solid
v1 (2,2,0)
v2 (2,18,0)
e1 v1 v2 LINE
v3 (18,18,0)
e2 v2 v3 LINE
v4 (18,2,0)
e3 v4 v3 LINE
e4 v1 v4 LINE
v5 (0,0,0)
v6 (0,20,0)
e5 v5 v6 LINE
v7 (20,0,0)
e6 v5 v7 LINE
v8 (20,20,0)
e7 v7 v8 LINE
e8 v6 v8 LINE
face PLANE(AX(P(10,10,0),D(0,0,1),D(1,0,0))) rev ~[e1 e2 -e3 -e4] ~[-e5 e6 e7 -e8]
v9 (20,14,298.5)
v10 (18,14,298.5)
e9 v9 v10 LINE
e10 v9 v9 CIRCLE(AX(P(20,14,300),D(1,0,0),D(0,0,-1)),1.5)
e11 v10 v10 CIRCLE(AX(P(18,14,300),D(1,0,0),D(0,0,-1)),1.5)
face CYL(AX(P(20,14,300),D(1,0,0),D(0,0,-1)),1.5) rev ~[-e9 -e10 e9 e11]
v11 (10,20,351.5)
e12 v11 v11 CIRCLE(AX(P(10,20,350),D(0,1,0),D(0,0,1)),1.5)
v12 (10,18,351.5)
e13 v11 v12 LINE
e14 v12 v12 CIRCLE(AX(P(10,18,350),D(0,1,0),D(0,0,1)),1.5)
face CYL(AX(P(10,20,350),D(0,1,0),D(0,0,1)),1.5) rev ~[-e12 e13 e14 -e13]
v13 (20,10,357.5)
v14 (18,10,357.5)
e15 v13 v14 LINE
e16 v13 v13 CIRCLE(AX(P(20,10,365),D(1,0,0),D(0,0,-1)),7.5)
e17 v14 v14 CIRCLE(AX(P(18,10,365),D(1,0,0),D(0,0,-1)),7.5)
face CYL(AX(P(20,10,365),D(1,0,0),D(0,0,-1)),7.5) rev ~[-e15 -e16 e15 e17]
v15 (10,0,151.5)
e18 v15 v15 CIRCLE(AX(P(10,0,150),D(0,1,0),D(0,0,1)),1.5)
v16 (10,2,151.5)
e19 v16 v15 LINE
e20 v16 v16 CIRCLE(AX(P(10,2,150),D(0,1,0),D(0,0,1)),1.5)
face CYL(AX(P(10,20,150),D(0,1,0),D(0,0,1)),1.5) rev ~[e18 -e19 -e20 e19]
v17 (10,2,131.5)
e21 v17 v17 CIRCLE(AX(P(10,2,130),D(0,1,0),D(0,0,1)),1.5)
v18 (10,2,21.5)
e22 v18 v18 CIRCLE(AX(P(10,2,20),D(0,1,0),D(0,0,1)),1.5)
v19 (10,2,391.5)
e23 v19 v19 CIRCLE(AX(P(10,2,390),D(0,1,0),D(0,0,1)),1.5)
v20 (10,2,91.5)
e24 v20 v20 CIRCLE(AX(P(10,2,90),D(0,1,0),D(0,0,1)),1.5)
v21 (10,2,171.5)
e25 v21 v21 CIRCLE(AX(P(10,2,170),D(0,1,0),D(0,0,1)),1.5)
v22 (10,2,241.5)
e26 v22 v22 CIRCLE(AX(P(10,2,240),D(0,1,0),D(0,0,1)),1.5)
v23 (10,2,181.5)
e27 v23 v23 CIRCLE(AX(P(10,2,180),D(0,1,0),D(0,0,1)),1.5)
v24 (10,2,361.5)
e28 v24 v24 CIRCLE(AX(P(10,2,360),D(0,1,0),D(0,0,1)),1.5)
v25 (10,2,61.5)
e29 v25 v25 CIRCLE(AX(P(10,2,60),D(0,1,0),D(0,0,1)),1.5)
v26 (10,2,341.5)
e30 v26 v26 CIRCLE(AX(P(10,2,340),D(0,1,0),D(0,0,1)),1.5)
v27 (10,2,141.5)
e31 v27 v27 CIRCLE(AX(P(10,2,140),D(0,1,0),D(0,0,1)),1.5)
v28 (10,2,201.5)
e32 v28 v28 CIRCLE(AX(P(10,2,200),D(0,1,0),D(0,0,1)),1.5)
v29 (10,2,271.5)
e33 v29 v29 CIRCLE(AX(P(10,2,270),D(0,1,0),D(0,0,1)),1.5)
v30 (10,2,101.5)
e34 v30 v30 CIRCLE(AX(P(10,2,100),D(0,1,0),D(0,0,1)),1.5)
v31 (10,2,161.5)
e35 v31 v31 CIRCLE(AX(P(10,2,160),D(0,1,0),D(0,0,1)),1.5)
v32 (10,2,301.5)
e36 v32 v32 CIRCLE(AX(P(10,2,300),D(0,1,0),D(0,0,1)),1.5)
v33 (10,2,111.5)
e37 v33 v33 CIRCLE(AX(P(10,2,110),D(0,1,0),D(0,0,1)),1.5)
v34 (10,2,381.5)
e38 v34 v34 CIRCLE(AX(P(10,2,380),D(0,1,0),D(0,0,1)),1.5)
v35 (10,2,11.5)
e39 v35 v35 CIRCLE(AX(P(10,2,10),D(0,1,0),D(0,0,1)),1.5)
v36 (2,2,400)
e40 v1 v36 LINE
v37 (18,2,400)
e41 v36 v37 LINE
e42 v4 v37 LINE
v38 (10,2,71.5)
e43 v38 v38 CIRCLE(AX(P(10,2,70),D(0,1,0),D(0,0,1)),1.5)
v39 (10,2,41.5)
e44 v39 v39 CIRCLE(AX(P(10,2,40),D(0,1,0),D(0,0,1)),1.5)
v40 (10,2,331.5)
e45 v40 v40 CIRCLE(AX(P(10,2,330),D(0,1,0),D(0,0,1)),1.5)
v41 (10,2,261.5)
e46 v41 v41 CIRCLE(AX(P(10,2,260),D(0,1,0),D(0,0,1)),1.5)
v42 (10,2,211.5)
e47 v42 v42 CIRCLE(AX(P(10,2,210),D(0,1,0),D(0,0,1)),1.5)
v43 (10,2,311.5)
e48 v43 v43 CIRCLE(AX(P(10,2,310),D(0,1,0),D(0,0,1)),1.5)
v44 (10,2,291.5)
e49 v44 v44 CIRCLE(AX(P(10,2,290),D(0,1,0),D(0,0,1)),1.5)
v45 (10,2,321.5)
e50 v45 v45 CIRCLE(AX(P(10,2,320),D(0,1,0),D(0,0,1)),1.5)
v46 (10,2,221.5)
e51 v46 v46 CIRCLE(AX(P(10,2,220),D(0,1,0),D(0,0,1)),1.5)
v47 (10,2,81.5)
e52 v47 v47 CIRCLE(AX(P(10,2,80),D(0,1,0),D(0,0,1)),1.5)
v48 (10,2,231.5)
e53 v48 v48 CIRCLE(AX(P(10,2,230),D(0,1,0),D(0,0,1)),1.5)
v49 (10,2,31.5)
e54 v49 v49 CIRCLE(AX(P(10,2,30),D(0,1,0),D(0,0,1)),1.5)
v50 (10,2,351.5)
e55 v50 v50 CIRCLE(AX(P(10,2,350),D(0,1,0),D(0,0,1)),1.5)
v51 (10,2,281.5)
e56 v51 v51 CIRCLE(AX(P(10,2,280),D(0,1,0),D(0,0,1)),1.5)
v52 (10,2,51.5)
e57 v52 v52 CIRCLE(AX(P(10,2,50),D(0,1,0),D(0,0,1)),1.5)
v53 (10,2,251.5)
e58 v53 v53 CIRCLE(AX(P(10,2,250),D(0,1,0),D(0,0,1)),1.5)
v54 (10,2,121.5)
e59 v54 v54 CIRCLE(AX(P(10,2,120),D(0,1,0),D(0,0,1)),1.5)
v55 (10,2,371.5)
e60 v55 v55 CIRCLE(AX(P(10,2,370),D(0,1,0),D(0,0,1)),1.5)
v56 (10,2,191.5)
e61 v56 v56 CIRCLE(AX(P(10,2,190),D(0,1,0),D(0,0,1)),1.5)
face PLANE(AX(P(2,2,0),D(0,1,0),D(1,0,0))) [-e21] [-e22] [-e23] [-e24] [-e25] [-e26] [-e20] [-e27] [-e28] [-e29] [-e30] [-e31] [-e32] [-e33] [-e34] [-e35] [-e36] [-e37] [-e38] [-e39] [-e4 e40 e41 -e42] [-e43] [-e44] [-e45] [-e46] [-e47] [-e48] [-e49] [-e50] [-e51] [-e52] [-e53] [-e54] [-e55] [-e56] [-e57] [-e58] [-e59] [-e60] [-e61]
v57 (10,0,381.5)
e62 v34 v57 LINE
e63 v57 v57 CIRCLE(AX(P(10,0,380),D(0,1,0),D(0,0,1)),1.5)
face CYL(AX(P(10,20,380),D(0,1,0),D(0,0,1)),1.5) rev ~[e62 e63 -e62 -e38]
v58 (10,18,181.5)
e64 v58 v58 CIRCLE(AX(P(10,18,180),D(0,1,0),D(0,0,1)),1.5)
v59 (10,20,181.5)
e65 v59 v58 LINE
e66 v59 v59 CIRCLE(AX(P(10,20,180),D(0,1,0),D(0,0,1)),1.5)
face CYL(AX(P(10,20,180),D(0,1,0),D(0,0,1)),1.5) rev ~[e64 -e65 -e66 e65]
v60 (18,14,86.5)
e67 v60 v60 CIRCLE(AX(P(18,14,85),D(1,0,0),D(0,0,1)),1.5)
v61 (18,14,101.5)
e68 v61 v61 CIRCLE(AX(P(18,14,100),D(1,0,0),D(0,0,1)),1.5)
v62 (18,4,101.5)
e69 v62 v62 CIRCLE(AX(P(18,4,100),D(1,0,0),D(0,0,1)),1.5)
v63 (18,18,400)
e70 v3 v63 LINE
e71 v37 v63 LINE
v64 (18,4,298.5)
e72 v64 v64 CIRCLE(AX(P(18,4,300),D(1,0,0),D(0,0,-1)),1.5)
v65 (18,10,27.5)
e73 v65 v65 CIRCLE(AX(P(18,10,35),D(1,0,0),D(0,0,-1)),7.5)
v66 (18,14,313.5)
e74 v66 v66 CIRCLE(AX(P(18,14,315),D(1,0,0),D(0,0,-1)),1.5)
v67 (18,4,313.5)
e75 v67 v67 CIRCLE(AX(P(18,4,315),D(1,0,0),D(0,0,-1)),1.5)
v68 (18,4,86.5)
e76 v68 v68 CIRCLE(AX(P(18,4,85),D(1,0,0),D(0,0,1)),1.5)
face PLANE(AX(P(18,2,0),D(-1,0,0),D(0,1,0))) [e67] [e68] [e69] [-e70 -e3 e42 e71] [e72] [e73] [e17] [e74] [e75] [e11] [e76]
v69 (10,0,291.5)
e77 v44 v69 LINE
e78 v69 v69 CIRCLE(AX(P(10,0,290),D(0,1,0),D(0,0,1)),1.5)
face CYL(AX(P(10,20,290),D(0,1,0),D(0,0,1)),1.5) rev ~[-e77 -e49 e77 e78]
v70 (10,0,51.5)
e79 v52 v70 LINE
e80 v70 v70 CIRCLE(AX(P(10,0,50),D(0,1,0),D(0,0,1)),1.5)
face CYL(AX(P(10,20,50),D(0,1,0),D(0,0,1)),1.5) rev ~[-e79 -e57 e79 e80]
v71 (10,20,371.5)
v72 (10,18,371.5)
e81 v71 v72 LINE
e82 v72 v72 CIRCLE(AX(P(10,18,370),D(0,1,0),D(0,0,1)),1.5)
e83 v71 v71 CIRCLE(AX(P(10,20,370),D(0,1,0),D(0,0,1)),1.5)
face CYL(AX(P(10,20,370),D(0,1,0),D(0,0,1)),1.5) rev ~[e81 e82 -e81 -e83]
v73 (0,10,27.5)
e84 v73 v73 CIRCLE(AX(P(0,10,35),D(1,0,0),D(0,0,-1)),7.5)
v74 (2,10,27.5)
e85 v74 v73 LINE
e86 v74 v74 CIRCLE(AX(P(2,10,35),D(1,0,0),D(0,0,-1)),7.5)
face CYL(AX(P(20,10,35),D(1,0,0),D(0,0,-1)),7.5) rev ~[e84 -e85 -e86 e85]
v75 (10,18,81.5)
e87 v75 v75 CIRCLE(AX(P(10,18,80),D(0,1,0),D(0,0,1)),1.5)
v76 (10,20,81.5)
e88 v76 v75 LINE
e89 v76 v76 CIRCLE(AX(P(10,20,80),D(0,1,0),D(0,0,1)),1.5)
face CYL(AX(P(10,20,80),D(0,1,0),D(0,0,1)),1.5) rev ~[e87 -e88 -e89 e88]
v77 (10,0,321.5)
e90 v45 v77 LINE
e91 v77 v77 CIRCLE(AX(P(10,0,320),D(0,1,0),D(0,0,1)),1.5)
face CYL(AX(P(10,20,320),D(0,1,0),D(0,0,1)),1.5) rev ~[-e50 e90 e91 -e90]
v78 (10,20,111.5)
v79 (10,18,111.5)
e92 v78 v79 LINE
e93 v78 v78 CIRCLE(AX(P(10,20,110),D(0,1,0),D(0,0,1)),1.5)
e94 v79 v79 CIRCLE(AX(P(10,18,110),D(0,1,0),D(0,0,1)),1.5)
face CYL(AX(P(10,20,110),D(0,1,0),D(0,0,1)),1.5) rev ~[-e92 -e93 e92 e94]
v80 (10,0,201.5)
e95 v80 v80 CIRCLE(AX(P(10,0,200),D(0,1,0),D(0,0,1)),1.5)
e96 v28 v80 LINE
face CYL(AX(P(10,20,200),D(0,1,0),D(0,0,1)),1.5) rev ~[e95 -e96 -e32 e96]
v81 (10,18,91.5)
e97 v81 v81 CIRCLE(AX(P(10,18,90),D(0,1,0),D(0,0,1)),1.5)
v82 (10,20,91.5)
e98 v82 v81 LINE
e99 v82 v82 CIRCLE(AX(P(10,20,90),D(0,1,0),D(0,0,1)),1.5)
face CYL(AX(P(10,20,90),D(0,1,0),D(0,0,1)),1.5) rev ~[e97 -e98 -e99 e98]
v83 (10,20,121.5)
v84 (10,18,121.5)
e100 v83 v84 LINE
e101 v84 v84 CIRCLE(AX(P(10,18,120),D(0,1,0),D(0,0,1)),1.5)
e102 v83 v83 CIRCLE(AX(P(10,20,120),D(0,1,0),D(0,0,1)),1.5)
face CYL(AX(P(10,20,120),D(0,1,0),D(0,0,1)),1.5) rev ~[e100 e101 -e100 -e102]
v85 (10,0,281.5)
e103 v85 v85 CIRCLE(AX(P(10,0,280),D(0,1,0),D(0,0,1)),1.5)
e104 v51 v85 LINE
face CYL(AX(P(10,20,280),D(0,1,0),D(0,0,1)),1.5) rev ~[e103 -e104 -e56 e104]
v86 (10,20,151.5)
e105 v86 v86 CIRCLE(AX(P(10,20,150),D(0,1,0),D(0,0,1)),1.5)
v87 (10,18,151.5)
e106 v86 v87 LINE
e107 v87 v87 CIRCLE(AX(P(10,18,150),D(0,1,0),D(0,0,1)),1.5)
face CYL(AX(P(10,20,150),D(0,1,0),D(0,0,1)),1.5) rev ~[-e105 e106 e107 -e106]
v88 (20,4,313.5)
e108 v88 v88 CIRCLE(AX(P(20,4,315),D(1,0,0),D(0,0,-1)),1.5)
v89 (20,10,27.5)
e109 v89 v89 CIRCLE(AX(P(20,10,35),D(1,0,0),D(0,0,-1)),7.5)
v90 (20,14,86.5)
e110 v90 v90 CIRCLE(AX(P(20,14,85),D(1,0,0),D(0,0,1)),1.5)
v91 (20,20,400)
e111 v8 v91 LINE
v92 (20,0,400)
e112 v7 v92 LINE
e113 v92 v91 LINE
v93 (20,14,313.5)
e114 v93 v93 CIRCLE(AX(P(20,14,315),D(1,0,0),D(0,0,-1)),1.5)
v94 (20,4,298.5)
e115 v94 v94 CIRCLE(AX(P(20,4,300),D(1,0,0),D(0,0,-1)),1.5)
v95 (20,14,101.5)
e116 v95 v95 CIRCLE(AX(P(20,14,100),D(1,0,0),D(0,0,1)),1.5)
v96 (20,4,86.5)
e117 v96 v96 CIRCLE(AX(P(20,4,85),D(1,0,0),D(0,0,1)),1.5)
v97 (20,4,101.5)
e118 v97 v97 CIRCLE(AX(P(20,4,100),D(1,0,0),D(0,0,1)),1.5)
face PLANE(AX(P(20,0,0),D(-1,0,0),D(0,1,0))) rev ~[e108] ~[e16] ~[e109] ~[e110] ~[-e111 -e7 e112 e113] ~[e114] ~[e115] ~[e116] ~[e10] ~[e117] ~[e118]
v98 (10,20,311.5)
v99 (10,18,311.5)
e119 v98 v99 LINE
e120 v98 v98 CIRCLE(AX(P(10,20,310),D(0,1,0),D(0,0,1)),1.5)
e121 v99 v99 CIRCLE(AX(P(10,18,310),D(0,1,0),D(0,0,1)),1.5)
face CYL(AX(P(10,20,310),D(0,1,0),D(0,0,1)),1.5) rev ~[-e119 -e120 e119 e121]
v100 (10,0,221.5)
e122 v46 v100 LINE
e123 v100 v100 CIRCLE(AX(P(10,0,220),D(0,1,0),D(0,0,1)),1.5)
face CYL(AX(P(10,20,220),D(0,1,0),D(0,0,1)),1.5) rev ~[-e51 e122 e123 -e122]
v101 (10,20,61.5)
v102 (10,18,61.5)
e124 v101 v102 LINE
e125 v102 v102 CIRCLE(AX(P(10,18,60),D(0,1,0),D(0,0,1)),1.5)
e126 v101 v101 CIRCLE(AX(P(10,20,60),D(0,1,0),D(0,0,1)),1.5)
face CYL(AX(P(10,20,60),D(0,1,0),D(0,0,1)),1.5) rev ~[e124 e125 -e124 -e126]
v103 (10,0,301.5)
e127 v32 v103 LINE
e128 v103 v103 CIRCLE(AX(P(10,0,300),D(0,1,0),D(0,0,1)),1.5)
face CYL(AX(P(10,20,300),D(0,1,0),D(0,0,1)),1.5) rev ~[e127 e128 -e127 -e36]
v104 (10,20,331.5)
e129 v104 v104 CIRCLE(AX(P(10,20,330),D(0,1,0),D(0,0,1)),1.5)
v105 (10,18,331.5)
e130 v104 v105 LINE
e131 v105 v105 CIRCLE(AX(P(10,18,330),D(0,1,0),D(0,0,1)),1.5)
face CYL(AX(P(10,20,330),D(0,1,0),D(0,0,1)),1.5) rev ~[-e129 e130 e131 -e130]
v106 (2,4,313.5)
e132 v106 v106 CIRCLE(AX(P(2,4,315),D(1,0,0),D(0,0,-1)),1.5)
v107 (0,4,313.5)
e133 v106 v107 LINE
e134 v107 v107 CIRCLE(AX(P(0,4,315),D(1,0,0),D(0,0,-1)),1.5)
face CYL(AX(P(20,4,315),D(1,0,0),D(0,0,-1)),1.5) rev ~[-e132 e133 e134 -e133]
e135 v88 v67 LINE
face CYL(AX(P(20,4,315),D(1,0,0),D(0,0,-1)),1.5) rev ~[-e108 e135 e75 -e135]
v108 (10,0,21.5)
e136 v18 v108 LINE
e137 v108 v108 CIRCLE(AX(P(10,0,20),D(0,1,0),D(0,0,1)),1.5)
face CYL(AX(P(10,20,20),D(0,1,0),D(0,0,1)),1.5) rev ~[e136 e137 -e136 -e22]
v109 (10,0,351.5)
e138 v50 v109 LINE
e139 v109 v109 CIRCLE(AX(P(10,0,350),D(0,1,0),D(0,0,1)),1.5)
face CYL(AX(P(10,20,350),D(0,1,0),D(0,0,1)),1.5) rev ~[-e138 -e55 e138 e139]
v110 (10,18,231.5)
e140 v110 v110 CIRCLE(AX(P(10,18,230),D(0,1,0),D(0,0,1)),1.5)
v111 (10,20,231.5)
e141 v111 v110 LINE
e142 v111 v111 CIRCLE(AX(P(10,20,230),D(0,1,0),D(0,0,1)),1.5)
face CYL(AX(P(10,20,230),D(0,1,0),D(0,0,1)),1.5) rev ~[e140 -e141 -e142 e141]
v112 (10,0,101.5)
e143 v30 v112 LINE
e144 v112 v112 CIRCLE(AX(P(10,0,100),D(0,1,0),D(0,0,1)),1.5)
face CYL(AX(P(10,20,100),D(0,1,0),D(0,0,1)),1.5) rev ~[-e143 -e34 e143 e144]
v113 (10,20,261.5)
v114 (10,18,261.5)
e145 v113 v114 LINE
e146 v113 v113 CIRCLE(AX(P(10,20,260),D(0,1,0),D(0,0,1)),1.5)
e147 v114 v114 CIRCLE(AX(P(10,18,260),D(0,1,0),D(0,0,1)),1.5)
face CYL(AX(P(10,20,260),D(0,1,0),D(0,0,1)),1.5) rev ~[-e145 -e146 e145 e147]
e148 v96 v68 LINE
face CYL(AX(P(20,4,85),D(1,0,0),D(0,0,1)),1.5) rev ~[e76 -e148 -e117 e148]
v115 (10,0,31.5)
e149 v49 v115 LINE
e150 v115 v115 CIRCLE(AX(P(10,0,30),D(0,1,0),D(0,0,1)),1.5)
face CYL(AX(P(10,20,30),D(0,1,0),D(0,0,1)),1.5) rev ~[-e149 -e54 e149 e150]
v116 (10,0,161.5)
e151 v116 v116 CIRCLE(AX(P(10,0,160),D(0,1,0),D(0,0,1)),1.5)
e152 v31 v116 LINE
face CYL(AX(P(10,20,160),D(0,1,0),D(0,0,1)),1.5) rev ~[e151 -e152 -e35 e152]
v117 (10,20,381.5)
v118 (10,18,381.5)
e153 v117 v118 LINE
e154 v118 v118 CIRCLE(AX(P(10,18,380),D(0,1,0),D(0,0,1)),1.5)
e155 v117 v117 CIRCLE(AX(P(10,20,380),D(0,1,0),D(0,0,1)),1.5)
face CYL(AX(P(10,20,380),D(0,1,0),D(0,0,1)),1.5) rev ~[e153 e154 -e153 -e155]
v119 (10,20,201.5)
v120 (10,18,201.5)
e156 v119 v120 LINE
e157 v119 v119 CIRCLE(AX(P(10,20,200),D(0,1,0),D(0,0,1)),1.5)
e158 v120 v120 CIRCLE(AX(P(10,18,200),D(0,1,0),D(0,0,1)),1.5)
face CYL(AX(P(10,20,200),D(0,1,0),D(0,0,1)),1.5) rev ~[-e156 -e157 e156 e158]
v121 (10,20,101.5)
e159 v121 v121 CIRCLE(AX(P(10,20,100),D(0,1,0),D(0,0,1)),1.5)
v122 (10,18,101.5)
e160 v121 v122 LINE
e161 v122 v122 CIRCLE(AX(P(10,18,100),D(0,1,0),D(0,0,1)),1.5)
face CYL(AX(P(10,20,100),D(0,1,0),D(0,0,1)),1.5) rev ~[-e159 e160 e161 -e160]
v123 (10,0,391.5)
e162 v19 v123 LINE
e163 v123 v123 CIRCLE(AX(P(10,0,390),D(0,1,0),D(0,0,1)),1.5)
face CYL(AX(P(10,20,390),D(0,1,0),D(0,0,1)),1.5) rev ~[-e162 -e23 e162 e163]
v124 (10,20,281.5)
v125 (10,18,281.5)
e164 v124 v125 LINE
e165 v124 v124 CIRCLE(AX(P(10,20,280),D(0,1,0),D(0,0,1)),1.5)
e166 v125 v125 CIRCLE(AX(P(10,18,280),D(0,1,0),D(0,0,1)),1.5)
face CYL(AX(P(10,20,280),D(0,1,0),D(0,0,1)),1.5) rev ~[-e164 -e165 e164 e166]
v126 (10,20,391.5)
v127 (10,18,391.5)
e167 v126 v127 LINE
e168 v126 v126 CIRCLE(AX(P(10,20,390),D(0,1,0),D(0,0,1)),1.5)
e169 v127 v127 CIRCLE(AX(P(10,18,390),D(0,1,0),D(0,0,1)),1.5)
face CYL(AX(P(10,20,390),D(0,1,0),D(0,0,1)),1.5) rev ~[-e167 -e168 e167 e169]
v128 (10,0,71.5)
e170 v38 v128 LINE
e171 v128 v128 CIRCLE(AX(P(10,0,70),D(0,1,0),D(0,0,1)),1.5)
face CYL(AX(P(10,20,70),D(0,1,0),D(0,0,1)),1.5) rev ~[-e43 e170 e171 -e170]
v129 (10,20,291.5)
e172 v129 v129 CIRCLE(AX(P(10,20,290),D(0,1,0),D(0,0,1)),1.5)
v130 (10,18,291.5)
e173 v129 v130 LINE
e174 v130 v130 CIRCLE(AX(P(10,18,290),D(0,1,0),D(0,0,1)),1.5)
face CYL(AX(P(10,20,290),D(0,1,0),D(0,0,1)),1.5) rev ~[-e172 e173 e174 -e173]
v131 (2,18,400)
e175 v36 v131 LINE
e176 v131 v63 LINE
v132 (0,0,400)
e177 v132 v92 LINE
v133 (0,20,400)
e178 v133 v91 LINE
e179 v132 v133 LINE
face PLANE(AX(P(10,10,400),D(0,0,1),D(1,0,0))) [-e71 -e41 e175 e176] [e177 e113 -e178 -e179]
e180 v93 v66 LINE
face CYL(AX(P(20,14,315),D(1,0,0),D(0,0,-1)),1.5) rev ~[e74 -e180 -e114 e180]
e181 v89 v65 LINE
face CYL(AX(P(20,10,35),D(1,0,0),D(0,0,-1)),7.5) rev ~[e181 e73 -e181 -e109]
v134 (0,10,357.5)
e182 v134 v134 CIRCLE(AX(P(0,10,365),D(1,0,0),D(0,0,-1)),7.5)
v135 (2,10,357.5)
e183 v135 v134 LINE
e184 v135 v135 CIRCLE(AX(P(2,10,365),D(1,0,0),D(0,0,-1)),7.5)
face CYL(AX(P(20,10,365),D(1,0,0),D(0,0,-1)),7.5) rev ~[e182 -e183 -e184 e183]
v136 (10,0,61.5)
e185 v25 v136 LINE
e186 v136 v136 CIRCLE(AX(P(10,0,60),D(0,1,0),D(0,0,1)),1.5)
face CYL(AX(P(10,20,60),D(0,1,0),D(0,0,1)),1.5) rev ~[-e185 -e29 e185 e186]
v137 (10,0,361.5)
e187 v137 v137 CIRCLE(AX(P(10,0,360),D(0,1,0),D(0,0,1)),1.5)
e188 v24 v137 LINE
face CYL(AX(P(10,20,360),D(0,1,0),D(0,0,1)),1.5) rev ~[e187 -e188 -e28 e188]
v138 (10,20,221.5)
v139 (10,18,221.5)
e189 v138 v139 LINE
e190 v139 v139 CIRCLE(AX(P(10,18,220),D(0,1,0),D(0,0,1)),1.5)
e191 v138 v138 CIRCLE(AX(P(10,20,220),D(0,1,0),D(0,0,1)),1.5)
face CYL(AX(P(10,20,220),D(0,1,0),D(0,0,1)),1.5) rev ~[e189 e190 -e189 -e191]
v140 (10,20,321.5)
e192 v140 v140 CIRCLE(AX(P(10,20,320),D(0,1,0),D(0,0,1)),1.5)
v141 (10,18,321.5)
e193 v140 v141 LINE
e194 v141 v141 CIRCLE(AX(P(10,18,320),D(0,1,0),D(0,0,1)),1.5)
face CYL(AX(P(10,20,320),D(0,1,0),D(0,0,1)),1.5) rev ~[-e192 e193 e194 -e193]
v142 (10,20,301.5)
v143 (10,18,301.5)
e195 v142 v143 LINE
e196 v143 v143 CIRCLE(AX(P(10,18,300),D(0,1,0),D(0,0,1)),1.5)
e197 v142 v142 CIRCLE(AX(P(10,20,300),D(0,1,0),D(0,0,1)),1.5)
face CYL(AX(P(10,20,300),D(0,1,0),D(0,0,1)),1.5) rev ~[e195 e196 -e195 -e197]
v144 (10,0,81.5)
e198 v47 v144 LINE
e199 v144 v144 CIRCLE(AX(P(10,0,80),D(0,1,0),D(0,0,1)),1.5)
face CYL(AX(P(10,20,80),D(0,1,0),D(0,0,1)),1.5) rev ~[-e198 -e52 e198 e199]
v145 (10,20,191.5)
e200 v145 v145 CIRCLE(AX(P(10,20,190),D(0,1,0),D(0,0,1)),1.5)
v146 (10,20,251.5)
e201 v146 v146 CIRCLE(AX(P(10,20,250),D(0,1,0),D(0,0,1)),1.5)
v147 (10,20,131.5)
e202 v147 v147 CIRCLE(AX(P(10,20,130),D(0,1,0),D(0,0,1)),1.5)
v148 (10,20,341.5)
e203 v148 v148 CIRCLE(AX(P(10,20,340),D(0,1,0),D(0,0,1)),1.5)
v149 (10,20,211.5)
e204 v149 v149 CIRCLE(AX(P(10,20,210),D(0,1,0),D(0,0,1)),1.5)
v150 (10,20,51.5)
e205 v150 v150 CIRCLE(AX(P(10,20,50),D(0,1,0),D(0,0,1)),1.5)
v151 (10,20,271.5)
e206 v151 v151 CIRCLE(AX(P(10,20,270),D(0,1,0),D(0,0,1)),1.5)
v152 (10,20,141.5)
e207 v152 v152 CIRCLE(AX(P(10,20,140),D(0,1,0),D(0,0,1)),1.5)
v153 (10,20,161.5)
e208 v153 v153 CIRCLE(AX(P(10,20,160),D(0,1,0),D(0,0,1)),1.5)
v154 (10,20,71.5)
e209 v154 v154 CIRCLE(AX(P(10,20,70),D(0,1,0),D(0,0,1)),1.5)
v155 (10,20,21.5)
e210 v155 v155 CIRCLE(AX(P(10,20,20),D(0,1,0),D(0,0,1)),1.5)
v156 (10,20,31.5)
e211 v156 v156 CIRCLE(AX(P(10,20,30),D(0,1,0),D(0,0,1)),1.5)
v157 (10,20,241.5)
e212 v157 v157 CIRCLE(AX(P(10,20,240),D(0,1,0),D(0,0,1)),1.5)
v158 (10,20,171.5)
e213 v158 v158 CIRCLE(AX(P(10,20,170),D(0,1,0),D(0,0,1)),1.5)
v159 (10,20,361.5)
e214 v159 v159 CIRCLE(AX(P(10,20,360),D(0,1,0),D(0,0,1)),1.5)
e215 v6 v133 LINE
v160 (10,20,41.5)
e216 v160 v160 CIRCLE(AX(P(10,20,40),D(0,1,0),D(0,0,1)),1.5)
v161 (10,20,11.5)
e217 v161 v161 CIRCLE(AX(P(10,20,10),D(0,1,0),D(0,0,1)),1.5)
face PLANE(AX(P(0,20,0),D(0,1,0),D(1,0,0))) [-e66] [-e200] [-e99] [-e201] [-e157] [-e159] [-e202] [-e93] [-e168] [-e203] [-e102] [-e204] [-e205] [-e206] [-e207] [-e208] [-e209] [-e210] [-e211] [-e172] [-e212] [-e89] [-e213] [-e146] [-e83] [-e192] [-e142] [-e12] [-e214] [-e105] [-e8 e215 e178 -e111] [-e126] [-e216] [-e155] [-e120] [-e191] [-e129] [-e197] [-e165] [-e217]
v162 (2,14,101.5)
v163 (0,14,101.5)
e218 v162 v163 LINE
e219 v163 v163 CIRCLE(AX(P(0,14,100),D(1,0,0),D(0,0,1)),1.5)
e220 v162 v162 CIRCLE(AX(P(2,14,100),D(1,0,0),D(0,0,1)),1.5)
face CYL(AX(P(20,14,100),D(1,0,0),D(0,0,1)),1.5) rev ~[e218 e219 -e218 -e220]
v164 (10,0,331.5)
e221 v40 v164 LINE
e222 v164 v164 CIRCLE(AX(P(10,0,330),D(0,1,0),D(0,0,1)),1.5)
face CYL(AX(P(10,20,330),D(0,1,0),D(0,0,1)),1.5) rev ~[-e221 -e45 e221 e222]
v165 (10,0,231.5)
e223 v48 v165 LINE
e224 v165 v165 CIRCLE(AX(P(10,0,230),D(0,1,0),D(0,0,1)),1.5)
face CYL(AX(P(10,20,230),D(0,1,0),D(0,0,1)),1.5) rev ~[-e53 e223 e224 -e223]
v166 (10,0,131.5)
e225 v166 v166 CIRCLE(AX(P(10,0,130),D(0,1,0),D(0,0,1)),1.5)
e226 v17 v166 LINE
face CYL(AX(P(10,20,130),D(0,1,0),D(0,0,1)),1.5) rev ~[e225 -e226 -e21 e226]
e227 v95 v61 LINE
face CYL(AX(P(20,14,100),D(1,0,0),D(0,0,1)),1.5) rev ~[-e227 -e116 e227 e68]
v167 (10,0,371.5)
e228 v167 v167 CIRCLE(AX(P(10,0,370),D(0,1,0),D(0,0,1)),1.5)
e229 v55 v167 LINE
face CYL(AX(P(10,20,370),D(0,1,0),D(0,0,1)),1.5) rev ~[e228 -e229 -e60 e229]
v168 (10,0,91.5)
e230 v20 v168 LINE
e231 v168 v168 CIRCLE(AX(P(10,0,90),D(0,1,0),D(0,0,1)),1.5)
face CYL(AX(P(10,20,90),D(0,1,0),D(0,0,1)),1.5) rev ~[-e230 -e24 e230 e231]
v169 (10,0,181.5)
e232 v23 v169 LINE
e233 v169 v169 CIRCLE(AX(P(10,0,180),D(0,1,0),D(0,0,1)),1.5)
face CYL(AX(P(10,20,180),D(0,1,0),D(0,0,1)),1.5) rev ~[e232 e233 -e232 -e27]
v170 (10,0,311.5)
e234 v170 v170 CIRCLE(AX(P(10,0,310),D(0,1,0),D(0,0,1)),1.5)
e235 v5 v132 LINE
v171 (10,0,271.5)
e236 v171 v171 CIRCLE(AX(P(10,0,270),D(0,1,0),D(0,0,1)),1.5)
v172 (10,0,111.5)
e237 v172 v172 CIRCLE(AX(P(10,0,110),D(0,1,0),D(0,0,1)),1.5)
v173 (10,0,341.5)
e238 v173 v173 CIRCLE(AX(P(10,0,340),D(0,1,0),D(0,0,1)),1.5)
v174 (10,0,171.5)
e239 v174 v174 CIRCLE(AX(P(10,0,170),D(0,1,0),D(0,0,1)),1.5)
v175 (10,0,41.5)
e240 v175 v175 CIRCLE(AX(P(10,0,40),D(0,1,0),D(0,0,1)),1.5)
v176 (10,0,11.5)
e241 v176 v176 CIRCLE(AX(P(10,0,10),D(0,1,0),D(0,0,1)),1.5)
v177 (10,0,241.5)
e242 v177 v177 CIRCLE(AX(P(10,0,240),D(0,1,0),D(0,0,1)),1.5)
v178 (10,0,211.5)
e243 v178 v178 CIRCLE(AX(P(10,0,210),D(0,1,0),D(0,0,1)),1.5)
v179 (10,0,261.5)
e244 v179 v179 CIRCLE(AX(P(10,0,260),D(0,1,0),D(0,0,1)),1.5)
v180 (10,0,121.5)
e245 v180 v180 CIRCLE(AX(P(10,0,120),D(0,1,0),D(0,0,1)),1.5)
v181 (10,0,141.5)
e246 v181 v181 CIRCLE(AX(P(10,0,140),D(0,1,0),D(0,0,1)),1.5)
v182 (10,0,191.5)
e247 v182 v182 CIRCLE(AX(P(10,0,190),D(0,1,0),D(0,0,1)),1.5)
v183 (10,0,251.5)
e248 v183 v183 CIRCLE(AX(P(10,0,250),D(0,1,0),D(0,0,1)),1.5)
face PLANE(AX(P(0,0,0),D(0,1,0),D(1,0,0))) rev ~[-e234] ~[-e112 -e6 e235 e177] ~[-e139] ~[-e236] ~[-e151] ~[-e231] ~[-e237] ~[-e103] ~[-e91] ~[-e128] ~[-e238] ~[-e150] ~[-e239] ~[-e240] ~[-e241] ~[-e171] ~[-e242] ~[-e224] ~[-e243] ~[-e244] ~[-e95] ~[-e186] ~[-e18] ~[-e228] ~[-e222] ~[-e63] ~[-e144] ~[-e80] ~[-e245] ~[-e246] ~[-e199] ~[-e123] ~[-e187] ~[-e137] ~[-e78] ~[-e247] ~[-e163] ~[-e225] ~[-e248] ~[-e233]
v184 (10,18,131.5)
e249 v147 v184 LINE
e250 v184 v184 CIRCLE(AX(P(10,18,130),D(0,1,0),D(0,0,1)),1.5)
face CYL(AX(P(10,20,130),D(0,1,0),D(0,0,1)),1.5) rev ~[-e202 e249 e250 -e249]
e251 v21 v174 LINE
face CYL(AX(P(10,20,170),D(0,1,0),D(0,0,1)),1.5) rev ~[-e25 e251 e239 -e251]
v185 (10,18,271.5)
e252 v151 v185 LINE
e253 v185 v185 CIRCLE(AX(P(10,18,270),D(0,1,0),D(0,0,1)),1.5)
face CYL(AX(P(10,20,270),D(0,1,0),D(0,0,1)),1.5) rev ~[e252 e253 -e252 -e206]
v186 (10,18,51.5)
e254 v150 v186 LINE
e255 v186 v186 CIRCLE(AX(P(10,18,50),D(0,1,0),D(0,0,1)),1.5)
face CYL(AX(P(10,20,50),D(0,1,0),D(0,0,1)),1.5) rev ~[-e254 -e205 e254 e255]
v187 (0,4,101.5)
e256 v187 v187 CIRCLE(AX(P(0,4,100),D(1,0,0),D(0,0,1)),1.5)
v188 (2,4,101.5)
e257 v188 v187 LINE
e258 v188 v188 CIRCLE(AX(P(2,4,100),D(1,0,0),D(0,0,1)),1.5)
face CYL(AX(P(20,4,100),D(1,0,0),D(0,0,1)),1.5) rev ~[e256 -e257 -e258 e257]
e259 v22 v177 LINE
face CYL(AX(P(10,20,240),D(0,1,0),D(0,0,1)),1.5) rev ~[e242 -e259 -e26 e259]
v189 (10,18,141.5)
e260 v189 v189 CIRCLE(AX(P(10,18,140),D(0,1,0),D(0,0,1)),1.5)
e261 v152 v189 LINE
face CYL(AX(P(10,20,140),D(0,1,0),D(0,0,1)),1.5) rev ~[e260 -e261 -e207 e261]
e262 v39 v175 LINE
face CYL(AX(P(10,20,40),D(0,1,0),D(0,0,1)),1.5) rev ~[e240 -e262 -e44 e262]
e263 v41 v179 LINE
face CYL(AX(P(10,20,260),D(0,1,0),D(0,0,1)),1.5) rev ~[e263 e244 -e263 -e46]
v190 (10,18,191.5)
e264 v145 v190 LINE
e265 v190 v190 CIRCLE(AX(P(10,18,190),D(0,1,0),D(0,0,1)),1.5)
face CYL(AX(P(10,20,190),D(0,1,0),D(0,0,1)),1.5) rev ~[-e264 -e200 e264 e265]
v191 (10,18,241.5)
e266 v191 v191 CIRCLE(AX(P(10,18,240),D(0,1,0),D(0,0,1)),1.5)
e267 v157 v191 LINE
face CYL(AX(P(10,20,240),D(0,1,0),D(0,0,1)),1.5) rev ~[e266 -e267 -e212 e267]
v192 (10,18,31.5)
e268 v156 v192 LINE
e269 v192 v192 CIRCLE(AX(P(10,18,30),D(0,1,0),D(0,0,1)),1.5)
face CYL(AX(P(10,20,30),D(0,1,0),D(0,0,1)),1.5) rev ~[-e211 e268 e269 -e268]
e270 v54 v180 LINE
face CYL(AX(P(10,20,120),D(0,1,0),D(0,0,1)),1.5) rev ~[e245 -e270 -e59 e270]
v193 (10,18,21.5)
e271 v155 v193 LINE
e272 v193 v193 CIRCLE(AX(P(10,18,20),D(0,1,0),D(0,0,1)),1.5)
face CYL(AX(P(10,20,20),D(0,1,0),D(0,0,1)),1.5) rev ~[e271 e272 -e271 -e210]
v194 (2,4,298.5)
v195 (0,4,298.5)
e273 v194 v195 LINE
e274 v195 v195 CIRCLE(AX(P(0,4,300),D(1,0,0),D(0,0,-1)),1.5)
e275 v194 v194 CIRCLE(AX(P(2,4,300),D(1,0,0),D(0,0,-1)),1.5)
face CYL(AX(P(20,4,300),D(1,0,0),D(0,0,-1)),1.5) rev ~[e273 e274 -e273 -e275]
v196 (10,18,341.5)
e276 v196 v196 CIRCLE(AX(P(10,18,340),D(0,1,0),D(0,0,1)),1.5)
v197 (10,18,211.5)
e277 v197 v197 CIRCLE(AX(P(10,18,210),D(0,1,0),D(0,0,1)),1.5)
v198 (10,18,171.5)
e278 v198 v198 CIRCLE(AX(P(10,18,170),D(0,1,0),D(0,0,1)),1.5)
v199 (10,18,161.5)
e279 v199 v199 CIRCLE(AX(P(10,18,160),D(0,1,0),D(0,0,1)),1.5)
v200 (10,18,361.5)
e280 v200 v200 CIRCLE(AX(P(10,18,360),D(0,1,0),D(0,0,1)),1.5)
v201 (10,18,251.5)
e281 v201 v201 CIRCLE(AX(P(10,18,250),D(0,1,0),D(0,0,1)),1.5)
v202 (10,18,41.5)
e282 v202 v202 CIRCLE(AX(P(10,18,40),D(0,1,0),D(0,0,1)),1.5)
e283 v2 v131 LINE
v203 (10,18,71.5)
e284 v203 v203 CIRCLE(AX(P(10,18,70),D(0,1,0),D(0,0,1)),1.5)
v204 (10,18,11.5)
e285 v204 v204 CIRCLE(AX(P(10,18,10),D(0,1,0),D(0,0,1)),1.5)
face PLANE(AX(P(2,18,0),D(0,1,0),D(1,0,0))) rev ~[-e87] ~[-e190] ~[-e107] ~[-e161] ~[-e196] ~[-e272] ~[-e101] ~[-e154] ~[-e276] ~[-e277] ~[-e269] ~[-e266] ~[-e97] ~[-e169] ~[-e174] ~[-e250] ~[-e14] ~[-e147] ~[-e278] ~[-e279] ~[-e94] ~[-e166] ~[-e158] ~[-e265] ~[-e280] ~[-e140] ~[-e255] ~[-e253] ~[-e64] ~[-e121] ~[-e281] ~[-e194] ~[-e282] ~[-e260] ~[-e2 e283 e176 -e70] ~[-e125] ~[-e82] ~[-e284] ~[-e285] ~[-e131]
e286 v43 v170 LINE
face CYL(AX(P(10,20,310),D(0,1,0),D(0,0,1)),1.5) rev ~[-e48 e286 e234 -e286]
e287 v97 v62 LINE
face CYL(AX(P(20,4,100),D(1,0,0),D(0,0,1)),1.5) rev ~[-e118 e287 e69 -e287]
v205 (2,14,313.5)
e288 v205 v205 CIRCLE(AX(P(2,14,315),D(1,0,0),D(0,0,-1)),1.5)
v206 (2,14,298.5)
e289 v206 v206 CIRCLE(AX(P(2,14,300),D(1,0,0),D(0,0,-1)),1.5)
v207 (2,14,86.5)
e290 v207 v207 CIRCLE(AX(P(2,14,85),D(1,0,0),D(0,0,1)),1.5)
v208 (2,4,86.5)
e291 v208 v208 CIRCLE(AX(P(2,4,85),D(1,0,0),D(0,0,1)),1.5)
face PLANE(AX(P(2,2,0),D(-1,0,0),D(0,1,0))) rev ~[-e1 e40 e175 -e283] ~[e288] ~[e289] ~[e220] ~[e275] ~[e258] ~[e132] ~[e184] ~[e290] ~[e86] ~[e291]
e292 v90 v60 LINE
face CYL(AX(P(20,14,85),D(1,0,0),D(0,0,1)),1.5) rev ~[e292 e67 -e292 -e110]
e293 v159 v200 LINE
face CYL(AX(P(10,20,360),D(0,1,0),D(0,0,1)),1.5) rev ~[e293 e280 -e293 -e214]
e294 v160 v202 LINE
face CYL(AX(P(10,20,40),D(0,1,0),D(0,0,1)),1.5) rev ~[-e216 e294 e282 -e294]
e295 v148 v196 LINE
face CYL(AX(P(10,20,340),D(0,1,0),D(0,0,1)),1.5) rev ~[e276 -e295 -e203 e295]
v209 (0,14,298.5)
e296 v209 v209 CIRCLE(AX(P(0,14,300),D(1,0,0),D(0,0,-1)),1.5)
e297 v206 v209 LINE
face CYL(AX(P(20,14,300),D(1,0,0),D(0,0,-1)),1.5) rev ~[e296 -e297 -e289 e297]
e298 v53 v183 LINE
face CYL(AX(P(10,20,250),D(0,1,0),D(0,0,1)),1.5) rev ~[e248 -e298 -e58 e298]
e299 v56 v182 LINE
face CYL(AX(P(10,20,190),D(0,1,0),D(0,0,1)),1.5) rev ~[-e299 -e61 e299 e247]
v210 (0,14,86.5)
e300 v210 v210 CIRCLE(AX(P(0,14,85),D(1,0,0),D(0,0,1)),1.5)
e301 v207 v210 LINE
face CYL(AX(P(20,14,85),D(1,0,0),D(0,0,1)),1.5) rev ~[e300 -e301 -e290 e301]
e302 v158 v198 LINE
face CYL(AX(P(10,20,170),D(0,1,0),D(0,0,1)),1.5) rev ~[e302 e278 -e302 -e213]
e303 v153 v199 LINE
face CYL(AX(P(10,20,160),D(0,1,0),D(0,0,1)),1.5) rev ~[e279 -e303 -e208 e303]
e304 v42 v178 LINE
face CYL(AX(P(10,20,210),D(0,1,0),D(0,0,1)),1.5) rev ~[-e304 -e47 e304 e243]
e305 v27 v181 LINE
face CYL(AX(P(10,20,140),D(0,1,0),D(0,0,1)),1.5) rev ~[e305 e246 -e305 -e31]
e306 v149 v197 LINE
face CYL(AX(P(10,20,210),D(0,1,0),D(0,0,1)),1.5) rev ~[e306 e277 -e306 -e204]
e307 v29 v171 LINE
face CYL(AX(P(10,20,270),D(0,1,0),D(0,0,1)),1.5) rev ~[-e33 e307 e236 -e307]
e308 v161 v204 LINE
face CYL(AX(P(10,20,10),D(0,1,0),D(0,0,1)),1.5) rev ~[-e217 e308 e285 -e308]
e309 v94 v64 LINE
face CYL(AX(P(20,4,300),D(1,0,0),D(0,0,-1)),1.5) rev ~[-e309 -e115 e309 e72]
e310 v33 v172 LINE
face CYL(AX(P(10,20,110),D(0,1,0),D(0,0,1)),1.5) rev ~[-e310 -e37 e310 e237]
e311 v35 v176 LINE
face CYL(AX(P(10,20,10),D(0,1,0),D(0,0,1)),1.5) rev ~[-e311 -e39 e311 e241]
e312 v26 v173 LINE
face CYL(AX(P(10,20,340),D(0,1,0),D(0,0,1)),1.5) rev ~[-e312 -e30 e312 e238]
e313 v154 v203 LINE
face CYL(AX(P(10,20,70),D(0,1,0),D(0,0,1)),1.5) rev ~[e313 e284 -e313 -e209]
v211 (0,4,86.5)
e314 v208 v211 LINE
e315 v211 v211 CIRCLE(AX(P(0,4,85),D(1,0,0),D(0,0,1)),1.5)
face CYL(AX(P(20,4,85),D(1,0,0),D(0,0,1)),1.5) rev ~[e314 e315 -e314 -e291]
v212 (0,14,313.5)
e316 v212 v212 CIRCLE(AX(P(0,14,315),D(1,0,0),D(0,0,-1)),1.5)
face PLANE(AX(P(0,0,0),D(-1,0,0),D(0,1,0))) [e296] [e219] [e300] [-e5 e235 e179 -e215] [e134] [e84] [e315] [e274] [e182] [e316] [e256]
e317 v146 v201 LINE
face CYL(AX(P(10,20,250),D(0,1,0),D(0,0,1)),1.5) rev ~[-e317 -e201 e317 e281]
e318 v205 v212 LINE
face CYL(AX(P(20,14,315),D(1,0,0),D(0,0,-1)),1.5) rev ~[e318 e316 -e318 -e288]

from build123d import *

# Parameters (mm, degrees)
SKETCH_1_W          = 20
SKETCH_1_H          = 20
SKETCH_1_W_2        = 16
SKETCH_1_H_2        = 16
EXTRUDE_1_DEPTH     = 400
SKETCH_9_R          = 1.5
CUT_EXTRUDE_6_DEPTH = 401.998753115
SKETCH_10_R         = 7.5
CUT_EXTRUDE_7_DEPTH = 401.998753115
SKETCH_11_R         = 1.5
CUT_EXTRUDE_8_DEPTH = 401.998753115


with BuildPart() as part:
    # 草图1 → 凸台-拉伸1 (new body)
    with BuildSketch(Plane.XY):
        with Locations((10, 10)):
            Rectangle(SKETCH_1_W, SKETCH_1_H)
        with Locations((10, 10)):
            Rectangle(SKETCH_1_W_2, SKETCH_1_H_2, mode=Mode.SUBTRACT)
    extrude(amount=EXTRUDE_1_DEPTH)

    # 草图9 → 切除-拉伸6 (cut, through all)
    with BuildSketch(Plane(origin=(0, 20, 0), x_dir=(1, 0, 0), z_dir=(0, 1, 0))):
        with Locations(Location((10, -390, 0), (0, 0, 270))):
            Circle(SKETCH_9_R)
        with Locations(Location((10, -380, 0), (0, 0, 270))):
            Circle(SKETCH_9_R)
        with Locations(Location((10, -370, 0), (0, 0, 270))):
            Circle(SKETCH_9_R)
        with Locations(Location((10, -360, 0), (0, 0, 270))):
            Circle(SKETCH_9_R)
        with Locations(Location((10, -350, 0), (0, 0, 270))):
            Circle(SKETCH_9_R)
        with Locations(Location((10, -340, 0), (0, 0, 270))):
            Circle(SKETCH_9_R)
        with Locations(Location((10, -330, 0), (0, 0, 270))):
            Circle(SKETCH_9_R)
        with Locations(Location((10, -320, 0), (0, 0, 270))):
            Circle(SKETCH_9_R)
        with Locations(Location((10, -310, 0), (0, 0, 270))):
            Circle(SKETCH_9_R)
        with Locations(Location((10, -300, 0), (0, 0, 270))):
            Circle(SKETCH_9_R)
        with Locations(Location((10, -290, 0), (0, 0, 270))):
            Circle(SKETCH_9_R)
        with Locations(Location((10, -280, 0), (0, 0, 270))):
            Circle(SKETCH_9_R)
        with Locations(Location((10, -270, 0), (0, 0, 270))):
            Circle(SKETCH_9_R)
        with Locations(Location((10, -260, 0), (0, 0, 270))):
            Circle(SKETCH_9_R)
        with Locations(Location((10, -250, 0), (0, 0, 270))):
            Circle(SKETCH_9_R)
        with Locations(Location((10, -240, 0), (0, 0, 270))):
            Circle(SKETCH_9_R)
        with Locations(Location((10, -230, 0), (0, 0, 270))):
            Circle(SKETCH_9_R)
        with Locations(Location((10, -220, 0), (0, 0, 270))):
            Circle(SKETCH_9_R)
        with Locations(Location((10, -210, 0), (0, 0, 270))):
            Circle(SKETCH_9_R)
        with Locations(Location((10, -200, 0), (0, 0, 270))):
            Circle(SKETCH_9_R)
        with Locations(Location((10, -190, 0), (0, 0, 270))):
            Circle(SKETCH_9_R)
        with Locations(Location((10, -180, 0), (0, 0, 270))):
            Circle(SKETCH_9_R)
        with Locations(Location((10, -170, 0), (0, 0, 270))):
            Circle(SKETCH_9_R)
        with Locations(Location((10, -160, 0), (0, 0, 270))):
            Circle(SKETCH_9_R)
        with Locations(Location((10, -150, 0), (0, 0, 270))):
            Circle(SKETCH_9_R)
        with Locations(Location((10, -140, 0), (0, 0, 270))):
            Circle(SKETCH_9_R)
        with Locations(Location((10, -130, 0), (0, 0, 270))):
            Circle(SKETCH_9_R)
        with Locations(Location((10, -120, 0), (0, 0, 270))):
            Circle(SKETCH_9_R)
        with Locations(Location((10, -110, 0), (0, 0, 270))):
            Circle(SKETCH_9_R)
        with Locations(Location((10, -100, 0), (0, 0, 270))):
            Circle(SKETCH_9_R)
        with Locations(Location((10, -90, 0), (0, 0, 270))):
            Circle(SKETCH_9_R)
        with Locations(Location((10, -80, 0), (0, 0, 270))):
            Circle(SKETCH_9_R)
        with Locations(Location((10, -70, 0), (0, 0, 270))):
            Circle(SKETCH_9_R)
        with Locations(Location((10, -60, 0), (0, 0, 270))):
            Circle(SKETCH_9_R)
        with Locations(Location((10, -50, 0), (0, 0, 270))):
            Circle(SKETCH_9_R)
        with Locations(Location((10, -40, 0), (0, 0, 270))):
            Circle(SKETCH_9_R)
        with Locations(Location((10, -30, 0), (0, 0, 270))):
            Circle(SKETCH_9_R)
        with Locations(Location((10, -20, 0), (0, 0, 270))):
            Circle(SKETCH_9_R)
        with Locations(Location((10, -10, 0), (0, 0, 270))):
            Circle(SKETCH_9_R)
    extrude(amount=-CUT_EXTRUDE_6_DEPTH, mode=Mode.SUBTRACT)

    # 草图10 → 切除-拉伸7 (cut, through all)
    with BuildSketch(Plane(origin=(20, 0, 0), x_dir=(0, 0, -1), z_dir=(1, 0, 0))):
        with Locations((-365, 10)):
            Circle(SKETCH_10_R)
        with Locations((-35, 10)):
            Circle(SKETCH_10_R)
    extrude(amount=-CUT_EXTRUDE_7_DEPTH, mode=Mode.SUBTRACT)

    # 草图11 → 切除-拉伸8 (cut, through all)
    with BuildSketch(Plane(origin=(20, 0, 0), x_dir=(0, 0, -1), z_dir=(1, 0, 0))):
        with Locations((-315, 14)):
            Circle(SKETCH_11_R)
        with Locations((-300, 14)):
            Circle(SKETCH_11_R)
        with Locations((-300, 4)):
            Circle(SKETCH_11_R)
        with Locations((-315, 4)):
            Circle(SKETCH_11_R)
        with Locations(Location((-85, 4, 0), (0, 0, 180))):
            Circle(SKETCH_11_R)
        with Locations(Location((-100, 4, 0), (0, 0, 180))):
            Circle(SKETCH_11_R)
        with Locations(Location((-100, 14, 0), (0, 0, 180))):
            Circle(SKETCH_11_R)
        with Locations(Location((-85, 14, 0), (0, 0, 180))):
            Circle(SKETCH_11_R)
    extrude(amount=-CUT_EXTRUDE_8_DEPTH, mode=Mode.SUBTRACT)


solid = part.part
